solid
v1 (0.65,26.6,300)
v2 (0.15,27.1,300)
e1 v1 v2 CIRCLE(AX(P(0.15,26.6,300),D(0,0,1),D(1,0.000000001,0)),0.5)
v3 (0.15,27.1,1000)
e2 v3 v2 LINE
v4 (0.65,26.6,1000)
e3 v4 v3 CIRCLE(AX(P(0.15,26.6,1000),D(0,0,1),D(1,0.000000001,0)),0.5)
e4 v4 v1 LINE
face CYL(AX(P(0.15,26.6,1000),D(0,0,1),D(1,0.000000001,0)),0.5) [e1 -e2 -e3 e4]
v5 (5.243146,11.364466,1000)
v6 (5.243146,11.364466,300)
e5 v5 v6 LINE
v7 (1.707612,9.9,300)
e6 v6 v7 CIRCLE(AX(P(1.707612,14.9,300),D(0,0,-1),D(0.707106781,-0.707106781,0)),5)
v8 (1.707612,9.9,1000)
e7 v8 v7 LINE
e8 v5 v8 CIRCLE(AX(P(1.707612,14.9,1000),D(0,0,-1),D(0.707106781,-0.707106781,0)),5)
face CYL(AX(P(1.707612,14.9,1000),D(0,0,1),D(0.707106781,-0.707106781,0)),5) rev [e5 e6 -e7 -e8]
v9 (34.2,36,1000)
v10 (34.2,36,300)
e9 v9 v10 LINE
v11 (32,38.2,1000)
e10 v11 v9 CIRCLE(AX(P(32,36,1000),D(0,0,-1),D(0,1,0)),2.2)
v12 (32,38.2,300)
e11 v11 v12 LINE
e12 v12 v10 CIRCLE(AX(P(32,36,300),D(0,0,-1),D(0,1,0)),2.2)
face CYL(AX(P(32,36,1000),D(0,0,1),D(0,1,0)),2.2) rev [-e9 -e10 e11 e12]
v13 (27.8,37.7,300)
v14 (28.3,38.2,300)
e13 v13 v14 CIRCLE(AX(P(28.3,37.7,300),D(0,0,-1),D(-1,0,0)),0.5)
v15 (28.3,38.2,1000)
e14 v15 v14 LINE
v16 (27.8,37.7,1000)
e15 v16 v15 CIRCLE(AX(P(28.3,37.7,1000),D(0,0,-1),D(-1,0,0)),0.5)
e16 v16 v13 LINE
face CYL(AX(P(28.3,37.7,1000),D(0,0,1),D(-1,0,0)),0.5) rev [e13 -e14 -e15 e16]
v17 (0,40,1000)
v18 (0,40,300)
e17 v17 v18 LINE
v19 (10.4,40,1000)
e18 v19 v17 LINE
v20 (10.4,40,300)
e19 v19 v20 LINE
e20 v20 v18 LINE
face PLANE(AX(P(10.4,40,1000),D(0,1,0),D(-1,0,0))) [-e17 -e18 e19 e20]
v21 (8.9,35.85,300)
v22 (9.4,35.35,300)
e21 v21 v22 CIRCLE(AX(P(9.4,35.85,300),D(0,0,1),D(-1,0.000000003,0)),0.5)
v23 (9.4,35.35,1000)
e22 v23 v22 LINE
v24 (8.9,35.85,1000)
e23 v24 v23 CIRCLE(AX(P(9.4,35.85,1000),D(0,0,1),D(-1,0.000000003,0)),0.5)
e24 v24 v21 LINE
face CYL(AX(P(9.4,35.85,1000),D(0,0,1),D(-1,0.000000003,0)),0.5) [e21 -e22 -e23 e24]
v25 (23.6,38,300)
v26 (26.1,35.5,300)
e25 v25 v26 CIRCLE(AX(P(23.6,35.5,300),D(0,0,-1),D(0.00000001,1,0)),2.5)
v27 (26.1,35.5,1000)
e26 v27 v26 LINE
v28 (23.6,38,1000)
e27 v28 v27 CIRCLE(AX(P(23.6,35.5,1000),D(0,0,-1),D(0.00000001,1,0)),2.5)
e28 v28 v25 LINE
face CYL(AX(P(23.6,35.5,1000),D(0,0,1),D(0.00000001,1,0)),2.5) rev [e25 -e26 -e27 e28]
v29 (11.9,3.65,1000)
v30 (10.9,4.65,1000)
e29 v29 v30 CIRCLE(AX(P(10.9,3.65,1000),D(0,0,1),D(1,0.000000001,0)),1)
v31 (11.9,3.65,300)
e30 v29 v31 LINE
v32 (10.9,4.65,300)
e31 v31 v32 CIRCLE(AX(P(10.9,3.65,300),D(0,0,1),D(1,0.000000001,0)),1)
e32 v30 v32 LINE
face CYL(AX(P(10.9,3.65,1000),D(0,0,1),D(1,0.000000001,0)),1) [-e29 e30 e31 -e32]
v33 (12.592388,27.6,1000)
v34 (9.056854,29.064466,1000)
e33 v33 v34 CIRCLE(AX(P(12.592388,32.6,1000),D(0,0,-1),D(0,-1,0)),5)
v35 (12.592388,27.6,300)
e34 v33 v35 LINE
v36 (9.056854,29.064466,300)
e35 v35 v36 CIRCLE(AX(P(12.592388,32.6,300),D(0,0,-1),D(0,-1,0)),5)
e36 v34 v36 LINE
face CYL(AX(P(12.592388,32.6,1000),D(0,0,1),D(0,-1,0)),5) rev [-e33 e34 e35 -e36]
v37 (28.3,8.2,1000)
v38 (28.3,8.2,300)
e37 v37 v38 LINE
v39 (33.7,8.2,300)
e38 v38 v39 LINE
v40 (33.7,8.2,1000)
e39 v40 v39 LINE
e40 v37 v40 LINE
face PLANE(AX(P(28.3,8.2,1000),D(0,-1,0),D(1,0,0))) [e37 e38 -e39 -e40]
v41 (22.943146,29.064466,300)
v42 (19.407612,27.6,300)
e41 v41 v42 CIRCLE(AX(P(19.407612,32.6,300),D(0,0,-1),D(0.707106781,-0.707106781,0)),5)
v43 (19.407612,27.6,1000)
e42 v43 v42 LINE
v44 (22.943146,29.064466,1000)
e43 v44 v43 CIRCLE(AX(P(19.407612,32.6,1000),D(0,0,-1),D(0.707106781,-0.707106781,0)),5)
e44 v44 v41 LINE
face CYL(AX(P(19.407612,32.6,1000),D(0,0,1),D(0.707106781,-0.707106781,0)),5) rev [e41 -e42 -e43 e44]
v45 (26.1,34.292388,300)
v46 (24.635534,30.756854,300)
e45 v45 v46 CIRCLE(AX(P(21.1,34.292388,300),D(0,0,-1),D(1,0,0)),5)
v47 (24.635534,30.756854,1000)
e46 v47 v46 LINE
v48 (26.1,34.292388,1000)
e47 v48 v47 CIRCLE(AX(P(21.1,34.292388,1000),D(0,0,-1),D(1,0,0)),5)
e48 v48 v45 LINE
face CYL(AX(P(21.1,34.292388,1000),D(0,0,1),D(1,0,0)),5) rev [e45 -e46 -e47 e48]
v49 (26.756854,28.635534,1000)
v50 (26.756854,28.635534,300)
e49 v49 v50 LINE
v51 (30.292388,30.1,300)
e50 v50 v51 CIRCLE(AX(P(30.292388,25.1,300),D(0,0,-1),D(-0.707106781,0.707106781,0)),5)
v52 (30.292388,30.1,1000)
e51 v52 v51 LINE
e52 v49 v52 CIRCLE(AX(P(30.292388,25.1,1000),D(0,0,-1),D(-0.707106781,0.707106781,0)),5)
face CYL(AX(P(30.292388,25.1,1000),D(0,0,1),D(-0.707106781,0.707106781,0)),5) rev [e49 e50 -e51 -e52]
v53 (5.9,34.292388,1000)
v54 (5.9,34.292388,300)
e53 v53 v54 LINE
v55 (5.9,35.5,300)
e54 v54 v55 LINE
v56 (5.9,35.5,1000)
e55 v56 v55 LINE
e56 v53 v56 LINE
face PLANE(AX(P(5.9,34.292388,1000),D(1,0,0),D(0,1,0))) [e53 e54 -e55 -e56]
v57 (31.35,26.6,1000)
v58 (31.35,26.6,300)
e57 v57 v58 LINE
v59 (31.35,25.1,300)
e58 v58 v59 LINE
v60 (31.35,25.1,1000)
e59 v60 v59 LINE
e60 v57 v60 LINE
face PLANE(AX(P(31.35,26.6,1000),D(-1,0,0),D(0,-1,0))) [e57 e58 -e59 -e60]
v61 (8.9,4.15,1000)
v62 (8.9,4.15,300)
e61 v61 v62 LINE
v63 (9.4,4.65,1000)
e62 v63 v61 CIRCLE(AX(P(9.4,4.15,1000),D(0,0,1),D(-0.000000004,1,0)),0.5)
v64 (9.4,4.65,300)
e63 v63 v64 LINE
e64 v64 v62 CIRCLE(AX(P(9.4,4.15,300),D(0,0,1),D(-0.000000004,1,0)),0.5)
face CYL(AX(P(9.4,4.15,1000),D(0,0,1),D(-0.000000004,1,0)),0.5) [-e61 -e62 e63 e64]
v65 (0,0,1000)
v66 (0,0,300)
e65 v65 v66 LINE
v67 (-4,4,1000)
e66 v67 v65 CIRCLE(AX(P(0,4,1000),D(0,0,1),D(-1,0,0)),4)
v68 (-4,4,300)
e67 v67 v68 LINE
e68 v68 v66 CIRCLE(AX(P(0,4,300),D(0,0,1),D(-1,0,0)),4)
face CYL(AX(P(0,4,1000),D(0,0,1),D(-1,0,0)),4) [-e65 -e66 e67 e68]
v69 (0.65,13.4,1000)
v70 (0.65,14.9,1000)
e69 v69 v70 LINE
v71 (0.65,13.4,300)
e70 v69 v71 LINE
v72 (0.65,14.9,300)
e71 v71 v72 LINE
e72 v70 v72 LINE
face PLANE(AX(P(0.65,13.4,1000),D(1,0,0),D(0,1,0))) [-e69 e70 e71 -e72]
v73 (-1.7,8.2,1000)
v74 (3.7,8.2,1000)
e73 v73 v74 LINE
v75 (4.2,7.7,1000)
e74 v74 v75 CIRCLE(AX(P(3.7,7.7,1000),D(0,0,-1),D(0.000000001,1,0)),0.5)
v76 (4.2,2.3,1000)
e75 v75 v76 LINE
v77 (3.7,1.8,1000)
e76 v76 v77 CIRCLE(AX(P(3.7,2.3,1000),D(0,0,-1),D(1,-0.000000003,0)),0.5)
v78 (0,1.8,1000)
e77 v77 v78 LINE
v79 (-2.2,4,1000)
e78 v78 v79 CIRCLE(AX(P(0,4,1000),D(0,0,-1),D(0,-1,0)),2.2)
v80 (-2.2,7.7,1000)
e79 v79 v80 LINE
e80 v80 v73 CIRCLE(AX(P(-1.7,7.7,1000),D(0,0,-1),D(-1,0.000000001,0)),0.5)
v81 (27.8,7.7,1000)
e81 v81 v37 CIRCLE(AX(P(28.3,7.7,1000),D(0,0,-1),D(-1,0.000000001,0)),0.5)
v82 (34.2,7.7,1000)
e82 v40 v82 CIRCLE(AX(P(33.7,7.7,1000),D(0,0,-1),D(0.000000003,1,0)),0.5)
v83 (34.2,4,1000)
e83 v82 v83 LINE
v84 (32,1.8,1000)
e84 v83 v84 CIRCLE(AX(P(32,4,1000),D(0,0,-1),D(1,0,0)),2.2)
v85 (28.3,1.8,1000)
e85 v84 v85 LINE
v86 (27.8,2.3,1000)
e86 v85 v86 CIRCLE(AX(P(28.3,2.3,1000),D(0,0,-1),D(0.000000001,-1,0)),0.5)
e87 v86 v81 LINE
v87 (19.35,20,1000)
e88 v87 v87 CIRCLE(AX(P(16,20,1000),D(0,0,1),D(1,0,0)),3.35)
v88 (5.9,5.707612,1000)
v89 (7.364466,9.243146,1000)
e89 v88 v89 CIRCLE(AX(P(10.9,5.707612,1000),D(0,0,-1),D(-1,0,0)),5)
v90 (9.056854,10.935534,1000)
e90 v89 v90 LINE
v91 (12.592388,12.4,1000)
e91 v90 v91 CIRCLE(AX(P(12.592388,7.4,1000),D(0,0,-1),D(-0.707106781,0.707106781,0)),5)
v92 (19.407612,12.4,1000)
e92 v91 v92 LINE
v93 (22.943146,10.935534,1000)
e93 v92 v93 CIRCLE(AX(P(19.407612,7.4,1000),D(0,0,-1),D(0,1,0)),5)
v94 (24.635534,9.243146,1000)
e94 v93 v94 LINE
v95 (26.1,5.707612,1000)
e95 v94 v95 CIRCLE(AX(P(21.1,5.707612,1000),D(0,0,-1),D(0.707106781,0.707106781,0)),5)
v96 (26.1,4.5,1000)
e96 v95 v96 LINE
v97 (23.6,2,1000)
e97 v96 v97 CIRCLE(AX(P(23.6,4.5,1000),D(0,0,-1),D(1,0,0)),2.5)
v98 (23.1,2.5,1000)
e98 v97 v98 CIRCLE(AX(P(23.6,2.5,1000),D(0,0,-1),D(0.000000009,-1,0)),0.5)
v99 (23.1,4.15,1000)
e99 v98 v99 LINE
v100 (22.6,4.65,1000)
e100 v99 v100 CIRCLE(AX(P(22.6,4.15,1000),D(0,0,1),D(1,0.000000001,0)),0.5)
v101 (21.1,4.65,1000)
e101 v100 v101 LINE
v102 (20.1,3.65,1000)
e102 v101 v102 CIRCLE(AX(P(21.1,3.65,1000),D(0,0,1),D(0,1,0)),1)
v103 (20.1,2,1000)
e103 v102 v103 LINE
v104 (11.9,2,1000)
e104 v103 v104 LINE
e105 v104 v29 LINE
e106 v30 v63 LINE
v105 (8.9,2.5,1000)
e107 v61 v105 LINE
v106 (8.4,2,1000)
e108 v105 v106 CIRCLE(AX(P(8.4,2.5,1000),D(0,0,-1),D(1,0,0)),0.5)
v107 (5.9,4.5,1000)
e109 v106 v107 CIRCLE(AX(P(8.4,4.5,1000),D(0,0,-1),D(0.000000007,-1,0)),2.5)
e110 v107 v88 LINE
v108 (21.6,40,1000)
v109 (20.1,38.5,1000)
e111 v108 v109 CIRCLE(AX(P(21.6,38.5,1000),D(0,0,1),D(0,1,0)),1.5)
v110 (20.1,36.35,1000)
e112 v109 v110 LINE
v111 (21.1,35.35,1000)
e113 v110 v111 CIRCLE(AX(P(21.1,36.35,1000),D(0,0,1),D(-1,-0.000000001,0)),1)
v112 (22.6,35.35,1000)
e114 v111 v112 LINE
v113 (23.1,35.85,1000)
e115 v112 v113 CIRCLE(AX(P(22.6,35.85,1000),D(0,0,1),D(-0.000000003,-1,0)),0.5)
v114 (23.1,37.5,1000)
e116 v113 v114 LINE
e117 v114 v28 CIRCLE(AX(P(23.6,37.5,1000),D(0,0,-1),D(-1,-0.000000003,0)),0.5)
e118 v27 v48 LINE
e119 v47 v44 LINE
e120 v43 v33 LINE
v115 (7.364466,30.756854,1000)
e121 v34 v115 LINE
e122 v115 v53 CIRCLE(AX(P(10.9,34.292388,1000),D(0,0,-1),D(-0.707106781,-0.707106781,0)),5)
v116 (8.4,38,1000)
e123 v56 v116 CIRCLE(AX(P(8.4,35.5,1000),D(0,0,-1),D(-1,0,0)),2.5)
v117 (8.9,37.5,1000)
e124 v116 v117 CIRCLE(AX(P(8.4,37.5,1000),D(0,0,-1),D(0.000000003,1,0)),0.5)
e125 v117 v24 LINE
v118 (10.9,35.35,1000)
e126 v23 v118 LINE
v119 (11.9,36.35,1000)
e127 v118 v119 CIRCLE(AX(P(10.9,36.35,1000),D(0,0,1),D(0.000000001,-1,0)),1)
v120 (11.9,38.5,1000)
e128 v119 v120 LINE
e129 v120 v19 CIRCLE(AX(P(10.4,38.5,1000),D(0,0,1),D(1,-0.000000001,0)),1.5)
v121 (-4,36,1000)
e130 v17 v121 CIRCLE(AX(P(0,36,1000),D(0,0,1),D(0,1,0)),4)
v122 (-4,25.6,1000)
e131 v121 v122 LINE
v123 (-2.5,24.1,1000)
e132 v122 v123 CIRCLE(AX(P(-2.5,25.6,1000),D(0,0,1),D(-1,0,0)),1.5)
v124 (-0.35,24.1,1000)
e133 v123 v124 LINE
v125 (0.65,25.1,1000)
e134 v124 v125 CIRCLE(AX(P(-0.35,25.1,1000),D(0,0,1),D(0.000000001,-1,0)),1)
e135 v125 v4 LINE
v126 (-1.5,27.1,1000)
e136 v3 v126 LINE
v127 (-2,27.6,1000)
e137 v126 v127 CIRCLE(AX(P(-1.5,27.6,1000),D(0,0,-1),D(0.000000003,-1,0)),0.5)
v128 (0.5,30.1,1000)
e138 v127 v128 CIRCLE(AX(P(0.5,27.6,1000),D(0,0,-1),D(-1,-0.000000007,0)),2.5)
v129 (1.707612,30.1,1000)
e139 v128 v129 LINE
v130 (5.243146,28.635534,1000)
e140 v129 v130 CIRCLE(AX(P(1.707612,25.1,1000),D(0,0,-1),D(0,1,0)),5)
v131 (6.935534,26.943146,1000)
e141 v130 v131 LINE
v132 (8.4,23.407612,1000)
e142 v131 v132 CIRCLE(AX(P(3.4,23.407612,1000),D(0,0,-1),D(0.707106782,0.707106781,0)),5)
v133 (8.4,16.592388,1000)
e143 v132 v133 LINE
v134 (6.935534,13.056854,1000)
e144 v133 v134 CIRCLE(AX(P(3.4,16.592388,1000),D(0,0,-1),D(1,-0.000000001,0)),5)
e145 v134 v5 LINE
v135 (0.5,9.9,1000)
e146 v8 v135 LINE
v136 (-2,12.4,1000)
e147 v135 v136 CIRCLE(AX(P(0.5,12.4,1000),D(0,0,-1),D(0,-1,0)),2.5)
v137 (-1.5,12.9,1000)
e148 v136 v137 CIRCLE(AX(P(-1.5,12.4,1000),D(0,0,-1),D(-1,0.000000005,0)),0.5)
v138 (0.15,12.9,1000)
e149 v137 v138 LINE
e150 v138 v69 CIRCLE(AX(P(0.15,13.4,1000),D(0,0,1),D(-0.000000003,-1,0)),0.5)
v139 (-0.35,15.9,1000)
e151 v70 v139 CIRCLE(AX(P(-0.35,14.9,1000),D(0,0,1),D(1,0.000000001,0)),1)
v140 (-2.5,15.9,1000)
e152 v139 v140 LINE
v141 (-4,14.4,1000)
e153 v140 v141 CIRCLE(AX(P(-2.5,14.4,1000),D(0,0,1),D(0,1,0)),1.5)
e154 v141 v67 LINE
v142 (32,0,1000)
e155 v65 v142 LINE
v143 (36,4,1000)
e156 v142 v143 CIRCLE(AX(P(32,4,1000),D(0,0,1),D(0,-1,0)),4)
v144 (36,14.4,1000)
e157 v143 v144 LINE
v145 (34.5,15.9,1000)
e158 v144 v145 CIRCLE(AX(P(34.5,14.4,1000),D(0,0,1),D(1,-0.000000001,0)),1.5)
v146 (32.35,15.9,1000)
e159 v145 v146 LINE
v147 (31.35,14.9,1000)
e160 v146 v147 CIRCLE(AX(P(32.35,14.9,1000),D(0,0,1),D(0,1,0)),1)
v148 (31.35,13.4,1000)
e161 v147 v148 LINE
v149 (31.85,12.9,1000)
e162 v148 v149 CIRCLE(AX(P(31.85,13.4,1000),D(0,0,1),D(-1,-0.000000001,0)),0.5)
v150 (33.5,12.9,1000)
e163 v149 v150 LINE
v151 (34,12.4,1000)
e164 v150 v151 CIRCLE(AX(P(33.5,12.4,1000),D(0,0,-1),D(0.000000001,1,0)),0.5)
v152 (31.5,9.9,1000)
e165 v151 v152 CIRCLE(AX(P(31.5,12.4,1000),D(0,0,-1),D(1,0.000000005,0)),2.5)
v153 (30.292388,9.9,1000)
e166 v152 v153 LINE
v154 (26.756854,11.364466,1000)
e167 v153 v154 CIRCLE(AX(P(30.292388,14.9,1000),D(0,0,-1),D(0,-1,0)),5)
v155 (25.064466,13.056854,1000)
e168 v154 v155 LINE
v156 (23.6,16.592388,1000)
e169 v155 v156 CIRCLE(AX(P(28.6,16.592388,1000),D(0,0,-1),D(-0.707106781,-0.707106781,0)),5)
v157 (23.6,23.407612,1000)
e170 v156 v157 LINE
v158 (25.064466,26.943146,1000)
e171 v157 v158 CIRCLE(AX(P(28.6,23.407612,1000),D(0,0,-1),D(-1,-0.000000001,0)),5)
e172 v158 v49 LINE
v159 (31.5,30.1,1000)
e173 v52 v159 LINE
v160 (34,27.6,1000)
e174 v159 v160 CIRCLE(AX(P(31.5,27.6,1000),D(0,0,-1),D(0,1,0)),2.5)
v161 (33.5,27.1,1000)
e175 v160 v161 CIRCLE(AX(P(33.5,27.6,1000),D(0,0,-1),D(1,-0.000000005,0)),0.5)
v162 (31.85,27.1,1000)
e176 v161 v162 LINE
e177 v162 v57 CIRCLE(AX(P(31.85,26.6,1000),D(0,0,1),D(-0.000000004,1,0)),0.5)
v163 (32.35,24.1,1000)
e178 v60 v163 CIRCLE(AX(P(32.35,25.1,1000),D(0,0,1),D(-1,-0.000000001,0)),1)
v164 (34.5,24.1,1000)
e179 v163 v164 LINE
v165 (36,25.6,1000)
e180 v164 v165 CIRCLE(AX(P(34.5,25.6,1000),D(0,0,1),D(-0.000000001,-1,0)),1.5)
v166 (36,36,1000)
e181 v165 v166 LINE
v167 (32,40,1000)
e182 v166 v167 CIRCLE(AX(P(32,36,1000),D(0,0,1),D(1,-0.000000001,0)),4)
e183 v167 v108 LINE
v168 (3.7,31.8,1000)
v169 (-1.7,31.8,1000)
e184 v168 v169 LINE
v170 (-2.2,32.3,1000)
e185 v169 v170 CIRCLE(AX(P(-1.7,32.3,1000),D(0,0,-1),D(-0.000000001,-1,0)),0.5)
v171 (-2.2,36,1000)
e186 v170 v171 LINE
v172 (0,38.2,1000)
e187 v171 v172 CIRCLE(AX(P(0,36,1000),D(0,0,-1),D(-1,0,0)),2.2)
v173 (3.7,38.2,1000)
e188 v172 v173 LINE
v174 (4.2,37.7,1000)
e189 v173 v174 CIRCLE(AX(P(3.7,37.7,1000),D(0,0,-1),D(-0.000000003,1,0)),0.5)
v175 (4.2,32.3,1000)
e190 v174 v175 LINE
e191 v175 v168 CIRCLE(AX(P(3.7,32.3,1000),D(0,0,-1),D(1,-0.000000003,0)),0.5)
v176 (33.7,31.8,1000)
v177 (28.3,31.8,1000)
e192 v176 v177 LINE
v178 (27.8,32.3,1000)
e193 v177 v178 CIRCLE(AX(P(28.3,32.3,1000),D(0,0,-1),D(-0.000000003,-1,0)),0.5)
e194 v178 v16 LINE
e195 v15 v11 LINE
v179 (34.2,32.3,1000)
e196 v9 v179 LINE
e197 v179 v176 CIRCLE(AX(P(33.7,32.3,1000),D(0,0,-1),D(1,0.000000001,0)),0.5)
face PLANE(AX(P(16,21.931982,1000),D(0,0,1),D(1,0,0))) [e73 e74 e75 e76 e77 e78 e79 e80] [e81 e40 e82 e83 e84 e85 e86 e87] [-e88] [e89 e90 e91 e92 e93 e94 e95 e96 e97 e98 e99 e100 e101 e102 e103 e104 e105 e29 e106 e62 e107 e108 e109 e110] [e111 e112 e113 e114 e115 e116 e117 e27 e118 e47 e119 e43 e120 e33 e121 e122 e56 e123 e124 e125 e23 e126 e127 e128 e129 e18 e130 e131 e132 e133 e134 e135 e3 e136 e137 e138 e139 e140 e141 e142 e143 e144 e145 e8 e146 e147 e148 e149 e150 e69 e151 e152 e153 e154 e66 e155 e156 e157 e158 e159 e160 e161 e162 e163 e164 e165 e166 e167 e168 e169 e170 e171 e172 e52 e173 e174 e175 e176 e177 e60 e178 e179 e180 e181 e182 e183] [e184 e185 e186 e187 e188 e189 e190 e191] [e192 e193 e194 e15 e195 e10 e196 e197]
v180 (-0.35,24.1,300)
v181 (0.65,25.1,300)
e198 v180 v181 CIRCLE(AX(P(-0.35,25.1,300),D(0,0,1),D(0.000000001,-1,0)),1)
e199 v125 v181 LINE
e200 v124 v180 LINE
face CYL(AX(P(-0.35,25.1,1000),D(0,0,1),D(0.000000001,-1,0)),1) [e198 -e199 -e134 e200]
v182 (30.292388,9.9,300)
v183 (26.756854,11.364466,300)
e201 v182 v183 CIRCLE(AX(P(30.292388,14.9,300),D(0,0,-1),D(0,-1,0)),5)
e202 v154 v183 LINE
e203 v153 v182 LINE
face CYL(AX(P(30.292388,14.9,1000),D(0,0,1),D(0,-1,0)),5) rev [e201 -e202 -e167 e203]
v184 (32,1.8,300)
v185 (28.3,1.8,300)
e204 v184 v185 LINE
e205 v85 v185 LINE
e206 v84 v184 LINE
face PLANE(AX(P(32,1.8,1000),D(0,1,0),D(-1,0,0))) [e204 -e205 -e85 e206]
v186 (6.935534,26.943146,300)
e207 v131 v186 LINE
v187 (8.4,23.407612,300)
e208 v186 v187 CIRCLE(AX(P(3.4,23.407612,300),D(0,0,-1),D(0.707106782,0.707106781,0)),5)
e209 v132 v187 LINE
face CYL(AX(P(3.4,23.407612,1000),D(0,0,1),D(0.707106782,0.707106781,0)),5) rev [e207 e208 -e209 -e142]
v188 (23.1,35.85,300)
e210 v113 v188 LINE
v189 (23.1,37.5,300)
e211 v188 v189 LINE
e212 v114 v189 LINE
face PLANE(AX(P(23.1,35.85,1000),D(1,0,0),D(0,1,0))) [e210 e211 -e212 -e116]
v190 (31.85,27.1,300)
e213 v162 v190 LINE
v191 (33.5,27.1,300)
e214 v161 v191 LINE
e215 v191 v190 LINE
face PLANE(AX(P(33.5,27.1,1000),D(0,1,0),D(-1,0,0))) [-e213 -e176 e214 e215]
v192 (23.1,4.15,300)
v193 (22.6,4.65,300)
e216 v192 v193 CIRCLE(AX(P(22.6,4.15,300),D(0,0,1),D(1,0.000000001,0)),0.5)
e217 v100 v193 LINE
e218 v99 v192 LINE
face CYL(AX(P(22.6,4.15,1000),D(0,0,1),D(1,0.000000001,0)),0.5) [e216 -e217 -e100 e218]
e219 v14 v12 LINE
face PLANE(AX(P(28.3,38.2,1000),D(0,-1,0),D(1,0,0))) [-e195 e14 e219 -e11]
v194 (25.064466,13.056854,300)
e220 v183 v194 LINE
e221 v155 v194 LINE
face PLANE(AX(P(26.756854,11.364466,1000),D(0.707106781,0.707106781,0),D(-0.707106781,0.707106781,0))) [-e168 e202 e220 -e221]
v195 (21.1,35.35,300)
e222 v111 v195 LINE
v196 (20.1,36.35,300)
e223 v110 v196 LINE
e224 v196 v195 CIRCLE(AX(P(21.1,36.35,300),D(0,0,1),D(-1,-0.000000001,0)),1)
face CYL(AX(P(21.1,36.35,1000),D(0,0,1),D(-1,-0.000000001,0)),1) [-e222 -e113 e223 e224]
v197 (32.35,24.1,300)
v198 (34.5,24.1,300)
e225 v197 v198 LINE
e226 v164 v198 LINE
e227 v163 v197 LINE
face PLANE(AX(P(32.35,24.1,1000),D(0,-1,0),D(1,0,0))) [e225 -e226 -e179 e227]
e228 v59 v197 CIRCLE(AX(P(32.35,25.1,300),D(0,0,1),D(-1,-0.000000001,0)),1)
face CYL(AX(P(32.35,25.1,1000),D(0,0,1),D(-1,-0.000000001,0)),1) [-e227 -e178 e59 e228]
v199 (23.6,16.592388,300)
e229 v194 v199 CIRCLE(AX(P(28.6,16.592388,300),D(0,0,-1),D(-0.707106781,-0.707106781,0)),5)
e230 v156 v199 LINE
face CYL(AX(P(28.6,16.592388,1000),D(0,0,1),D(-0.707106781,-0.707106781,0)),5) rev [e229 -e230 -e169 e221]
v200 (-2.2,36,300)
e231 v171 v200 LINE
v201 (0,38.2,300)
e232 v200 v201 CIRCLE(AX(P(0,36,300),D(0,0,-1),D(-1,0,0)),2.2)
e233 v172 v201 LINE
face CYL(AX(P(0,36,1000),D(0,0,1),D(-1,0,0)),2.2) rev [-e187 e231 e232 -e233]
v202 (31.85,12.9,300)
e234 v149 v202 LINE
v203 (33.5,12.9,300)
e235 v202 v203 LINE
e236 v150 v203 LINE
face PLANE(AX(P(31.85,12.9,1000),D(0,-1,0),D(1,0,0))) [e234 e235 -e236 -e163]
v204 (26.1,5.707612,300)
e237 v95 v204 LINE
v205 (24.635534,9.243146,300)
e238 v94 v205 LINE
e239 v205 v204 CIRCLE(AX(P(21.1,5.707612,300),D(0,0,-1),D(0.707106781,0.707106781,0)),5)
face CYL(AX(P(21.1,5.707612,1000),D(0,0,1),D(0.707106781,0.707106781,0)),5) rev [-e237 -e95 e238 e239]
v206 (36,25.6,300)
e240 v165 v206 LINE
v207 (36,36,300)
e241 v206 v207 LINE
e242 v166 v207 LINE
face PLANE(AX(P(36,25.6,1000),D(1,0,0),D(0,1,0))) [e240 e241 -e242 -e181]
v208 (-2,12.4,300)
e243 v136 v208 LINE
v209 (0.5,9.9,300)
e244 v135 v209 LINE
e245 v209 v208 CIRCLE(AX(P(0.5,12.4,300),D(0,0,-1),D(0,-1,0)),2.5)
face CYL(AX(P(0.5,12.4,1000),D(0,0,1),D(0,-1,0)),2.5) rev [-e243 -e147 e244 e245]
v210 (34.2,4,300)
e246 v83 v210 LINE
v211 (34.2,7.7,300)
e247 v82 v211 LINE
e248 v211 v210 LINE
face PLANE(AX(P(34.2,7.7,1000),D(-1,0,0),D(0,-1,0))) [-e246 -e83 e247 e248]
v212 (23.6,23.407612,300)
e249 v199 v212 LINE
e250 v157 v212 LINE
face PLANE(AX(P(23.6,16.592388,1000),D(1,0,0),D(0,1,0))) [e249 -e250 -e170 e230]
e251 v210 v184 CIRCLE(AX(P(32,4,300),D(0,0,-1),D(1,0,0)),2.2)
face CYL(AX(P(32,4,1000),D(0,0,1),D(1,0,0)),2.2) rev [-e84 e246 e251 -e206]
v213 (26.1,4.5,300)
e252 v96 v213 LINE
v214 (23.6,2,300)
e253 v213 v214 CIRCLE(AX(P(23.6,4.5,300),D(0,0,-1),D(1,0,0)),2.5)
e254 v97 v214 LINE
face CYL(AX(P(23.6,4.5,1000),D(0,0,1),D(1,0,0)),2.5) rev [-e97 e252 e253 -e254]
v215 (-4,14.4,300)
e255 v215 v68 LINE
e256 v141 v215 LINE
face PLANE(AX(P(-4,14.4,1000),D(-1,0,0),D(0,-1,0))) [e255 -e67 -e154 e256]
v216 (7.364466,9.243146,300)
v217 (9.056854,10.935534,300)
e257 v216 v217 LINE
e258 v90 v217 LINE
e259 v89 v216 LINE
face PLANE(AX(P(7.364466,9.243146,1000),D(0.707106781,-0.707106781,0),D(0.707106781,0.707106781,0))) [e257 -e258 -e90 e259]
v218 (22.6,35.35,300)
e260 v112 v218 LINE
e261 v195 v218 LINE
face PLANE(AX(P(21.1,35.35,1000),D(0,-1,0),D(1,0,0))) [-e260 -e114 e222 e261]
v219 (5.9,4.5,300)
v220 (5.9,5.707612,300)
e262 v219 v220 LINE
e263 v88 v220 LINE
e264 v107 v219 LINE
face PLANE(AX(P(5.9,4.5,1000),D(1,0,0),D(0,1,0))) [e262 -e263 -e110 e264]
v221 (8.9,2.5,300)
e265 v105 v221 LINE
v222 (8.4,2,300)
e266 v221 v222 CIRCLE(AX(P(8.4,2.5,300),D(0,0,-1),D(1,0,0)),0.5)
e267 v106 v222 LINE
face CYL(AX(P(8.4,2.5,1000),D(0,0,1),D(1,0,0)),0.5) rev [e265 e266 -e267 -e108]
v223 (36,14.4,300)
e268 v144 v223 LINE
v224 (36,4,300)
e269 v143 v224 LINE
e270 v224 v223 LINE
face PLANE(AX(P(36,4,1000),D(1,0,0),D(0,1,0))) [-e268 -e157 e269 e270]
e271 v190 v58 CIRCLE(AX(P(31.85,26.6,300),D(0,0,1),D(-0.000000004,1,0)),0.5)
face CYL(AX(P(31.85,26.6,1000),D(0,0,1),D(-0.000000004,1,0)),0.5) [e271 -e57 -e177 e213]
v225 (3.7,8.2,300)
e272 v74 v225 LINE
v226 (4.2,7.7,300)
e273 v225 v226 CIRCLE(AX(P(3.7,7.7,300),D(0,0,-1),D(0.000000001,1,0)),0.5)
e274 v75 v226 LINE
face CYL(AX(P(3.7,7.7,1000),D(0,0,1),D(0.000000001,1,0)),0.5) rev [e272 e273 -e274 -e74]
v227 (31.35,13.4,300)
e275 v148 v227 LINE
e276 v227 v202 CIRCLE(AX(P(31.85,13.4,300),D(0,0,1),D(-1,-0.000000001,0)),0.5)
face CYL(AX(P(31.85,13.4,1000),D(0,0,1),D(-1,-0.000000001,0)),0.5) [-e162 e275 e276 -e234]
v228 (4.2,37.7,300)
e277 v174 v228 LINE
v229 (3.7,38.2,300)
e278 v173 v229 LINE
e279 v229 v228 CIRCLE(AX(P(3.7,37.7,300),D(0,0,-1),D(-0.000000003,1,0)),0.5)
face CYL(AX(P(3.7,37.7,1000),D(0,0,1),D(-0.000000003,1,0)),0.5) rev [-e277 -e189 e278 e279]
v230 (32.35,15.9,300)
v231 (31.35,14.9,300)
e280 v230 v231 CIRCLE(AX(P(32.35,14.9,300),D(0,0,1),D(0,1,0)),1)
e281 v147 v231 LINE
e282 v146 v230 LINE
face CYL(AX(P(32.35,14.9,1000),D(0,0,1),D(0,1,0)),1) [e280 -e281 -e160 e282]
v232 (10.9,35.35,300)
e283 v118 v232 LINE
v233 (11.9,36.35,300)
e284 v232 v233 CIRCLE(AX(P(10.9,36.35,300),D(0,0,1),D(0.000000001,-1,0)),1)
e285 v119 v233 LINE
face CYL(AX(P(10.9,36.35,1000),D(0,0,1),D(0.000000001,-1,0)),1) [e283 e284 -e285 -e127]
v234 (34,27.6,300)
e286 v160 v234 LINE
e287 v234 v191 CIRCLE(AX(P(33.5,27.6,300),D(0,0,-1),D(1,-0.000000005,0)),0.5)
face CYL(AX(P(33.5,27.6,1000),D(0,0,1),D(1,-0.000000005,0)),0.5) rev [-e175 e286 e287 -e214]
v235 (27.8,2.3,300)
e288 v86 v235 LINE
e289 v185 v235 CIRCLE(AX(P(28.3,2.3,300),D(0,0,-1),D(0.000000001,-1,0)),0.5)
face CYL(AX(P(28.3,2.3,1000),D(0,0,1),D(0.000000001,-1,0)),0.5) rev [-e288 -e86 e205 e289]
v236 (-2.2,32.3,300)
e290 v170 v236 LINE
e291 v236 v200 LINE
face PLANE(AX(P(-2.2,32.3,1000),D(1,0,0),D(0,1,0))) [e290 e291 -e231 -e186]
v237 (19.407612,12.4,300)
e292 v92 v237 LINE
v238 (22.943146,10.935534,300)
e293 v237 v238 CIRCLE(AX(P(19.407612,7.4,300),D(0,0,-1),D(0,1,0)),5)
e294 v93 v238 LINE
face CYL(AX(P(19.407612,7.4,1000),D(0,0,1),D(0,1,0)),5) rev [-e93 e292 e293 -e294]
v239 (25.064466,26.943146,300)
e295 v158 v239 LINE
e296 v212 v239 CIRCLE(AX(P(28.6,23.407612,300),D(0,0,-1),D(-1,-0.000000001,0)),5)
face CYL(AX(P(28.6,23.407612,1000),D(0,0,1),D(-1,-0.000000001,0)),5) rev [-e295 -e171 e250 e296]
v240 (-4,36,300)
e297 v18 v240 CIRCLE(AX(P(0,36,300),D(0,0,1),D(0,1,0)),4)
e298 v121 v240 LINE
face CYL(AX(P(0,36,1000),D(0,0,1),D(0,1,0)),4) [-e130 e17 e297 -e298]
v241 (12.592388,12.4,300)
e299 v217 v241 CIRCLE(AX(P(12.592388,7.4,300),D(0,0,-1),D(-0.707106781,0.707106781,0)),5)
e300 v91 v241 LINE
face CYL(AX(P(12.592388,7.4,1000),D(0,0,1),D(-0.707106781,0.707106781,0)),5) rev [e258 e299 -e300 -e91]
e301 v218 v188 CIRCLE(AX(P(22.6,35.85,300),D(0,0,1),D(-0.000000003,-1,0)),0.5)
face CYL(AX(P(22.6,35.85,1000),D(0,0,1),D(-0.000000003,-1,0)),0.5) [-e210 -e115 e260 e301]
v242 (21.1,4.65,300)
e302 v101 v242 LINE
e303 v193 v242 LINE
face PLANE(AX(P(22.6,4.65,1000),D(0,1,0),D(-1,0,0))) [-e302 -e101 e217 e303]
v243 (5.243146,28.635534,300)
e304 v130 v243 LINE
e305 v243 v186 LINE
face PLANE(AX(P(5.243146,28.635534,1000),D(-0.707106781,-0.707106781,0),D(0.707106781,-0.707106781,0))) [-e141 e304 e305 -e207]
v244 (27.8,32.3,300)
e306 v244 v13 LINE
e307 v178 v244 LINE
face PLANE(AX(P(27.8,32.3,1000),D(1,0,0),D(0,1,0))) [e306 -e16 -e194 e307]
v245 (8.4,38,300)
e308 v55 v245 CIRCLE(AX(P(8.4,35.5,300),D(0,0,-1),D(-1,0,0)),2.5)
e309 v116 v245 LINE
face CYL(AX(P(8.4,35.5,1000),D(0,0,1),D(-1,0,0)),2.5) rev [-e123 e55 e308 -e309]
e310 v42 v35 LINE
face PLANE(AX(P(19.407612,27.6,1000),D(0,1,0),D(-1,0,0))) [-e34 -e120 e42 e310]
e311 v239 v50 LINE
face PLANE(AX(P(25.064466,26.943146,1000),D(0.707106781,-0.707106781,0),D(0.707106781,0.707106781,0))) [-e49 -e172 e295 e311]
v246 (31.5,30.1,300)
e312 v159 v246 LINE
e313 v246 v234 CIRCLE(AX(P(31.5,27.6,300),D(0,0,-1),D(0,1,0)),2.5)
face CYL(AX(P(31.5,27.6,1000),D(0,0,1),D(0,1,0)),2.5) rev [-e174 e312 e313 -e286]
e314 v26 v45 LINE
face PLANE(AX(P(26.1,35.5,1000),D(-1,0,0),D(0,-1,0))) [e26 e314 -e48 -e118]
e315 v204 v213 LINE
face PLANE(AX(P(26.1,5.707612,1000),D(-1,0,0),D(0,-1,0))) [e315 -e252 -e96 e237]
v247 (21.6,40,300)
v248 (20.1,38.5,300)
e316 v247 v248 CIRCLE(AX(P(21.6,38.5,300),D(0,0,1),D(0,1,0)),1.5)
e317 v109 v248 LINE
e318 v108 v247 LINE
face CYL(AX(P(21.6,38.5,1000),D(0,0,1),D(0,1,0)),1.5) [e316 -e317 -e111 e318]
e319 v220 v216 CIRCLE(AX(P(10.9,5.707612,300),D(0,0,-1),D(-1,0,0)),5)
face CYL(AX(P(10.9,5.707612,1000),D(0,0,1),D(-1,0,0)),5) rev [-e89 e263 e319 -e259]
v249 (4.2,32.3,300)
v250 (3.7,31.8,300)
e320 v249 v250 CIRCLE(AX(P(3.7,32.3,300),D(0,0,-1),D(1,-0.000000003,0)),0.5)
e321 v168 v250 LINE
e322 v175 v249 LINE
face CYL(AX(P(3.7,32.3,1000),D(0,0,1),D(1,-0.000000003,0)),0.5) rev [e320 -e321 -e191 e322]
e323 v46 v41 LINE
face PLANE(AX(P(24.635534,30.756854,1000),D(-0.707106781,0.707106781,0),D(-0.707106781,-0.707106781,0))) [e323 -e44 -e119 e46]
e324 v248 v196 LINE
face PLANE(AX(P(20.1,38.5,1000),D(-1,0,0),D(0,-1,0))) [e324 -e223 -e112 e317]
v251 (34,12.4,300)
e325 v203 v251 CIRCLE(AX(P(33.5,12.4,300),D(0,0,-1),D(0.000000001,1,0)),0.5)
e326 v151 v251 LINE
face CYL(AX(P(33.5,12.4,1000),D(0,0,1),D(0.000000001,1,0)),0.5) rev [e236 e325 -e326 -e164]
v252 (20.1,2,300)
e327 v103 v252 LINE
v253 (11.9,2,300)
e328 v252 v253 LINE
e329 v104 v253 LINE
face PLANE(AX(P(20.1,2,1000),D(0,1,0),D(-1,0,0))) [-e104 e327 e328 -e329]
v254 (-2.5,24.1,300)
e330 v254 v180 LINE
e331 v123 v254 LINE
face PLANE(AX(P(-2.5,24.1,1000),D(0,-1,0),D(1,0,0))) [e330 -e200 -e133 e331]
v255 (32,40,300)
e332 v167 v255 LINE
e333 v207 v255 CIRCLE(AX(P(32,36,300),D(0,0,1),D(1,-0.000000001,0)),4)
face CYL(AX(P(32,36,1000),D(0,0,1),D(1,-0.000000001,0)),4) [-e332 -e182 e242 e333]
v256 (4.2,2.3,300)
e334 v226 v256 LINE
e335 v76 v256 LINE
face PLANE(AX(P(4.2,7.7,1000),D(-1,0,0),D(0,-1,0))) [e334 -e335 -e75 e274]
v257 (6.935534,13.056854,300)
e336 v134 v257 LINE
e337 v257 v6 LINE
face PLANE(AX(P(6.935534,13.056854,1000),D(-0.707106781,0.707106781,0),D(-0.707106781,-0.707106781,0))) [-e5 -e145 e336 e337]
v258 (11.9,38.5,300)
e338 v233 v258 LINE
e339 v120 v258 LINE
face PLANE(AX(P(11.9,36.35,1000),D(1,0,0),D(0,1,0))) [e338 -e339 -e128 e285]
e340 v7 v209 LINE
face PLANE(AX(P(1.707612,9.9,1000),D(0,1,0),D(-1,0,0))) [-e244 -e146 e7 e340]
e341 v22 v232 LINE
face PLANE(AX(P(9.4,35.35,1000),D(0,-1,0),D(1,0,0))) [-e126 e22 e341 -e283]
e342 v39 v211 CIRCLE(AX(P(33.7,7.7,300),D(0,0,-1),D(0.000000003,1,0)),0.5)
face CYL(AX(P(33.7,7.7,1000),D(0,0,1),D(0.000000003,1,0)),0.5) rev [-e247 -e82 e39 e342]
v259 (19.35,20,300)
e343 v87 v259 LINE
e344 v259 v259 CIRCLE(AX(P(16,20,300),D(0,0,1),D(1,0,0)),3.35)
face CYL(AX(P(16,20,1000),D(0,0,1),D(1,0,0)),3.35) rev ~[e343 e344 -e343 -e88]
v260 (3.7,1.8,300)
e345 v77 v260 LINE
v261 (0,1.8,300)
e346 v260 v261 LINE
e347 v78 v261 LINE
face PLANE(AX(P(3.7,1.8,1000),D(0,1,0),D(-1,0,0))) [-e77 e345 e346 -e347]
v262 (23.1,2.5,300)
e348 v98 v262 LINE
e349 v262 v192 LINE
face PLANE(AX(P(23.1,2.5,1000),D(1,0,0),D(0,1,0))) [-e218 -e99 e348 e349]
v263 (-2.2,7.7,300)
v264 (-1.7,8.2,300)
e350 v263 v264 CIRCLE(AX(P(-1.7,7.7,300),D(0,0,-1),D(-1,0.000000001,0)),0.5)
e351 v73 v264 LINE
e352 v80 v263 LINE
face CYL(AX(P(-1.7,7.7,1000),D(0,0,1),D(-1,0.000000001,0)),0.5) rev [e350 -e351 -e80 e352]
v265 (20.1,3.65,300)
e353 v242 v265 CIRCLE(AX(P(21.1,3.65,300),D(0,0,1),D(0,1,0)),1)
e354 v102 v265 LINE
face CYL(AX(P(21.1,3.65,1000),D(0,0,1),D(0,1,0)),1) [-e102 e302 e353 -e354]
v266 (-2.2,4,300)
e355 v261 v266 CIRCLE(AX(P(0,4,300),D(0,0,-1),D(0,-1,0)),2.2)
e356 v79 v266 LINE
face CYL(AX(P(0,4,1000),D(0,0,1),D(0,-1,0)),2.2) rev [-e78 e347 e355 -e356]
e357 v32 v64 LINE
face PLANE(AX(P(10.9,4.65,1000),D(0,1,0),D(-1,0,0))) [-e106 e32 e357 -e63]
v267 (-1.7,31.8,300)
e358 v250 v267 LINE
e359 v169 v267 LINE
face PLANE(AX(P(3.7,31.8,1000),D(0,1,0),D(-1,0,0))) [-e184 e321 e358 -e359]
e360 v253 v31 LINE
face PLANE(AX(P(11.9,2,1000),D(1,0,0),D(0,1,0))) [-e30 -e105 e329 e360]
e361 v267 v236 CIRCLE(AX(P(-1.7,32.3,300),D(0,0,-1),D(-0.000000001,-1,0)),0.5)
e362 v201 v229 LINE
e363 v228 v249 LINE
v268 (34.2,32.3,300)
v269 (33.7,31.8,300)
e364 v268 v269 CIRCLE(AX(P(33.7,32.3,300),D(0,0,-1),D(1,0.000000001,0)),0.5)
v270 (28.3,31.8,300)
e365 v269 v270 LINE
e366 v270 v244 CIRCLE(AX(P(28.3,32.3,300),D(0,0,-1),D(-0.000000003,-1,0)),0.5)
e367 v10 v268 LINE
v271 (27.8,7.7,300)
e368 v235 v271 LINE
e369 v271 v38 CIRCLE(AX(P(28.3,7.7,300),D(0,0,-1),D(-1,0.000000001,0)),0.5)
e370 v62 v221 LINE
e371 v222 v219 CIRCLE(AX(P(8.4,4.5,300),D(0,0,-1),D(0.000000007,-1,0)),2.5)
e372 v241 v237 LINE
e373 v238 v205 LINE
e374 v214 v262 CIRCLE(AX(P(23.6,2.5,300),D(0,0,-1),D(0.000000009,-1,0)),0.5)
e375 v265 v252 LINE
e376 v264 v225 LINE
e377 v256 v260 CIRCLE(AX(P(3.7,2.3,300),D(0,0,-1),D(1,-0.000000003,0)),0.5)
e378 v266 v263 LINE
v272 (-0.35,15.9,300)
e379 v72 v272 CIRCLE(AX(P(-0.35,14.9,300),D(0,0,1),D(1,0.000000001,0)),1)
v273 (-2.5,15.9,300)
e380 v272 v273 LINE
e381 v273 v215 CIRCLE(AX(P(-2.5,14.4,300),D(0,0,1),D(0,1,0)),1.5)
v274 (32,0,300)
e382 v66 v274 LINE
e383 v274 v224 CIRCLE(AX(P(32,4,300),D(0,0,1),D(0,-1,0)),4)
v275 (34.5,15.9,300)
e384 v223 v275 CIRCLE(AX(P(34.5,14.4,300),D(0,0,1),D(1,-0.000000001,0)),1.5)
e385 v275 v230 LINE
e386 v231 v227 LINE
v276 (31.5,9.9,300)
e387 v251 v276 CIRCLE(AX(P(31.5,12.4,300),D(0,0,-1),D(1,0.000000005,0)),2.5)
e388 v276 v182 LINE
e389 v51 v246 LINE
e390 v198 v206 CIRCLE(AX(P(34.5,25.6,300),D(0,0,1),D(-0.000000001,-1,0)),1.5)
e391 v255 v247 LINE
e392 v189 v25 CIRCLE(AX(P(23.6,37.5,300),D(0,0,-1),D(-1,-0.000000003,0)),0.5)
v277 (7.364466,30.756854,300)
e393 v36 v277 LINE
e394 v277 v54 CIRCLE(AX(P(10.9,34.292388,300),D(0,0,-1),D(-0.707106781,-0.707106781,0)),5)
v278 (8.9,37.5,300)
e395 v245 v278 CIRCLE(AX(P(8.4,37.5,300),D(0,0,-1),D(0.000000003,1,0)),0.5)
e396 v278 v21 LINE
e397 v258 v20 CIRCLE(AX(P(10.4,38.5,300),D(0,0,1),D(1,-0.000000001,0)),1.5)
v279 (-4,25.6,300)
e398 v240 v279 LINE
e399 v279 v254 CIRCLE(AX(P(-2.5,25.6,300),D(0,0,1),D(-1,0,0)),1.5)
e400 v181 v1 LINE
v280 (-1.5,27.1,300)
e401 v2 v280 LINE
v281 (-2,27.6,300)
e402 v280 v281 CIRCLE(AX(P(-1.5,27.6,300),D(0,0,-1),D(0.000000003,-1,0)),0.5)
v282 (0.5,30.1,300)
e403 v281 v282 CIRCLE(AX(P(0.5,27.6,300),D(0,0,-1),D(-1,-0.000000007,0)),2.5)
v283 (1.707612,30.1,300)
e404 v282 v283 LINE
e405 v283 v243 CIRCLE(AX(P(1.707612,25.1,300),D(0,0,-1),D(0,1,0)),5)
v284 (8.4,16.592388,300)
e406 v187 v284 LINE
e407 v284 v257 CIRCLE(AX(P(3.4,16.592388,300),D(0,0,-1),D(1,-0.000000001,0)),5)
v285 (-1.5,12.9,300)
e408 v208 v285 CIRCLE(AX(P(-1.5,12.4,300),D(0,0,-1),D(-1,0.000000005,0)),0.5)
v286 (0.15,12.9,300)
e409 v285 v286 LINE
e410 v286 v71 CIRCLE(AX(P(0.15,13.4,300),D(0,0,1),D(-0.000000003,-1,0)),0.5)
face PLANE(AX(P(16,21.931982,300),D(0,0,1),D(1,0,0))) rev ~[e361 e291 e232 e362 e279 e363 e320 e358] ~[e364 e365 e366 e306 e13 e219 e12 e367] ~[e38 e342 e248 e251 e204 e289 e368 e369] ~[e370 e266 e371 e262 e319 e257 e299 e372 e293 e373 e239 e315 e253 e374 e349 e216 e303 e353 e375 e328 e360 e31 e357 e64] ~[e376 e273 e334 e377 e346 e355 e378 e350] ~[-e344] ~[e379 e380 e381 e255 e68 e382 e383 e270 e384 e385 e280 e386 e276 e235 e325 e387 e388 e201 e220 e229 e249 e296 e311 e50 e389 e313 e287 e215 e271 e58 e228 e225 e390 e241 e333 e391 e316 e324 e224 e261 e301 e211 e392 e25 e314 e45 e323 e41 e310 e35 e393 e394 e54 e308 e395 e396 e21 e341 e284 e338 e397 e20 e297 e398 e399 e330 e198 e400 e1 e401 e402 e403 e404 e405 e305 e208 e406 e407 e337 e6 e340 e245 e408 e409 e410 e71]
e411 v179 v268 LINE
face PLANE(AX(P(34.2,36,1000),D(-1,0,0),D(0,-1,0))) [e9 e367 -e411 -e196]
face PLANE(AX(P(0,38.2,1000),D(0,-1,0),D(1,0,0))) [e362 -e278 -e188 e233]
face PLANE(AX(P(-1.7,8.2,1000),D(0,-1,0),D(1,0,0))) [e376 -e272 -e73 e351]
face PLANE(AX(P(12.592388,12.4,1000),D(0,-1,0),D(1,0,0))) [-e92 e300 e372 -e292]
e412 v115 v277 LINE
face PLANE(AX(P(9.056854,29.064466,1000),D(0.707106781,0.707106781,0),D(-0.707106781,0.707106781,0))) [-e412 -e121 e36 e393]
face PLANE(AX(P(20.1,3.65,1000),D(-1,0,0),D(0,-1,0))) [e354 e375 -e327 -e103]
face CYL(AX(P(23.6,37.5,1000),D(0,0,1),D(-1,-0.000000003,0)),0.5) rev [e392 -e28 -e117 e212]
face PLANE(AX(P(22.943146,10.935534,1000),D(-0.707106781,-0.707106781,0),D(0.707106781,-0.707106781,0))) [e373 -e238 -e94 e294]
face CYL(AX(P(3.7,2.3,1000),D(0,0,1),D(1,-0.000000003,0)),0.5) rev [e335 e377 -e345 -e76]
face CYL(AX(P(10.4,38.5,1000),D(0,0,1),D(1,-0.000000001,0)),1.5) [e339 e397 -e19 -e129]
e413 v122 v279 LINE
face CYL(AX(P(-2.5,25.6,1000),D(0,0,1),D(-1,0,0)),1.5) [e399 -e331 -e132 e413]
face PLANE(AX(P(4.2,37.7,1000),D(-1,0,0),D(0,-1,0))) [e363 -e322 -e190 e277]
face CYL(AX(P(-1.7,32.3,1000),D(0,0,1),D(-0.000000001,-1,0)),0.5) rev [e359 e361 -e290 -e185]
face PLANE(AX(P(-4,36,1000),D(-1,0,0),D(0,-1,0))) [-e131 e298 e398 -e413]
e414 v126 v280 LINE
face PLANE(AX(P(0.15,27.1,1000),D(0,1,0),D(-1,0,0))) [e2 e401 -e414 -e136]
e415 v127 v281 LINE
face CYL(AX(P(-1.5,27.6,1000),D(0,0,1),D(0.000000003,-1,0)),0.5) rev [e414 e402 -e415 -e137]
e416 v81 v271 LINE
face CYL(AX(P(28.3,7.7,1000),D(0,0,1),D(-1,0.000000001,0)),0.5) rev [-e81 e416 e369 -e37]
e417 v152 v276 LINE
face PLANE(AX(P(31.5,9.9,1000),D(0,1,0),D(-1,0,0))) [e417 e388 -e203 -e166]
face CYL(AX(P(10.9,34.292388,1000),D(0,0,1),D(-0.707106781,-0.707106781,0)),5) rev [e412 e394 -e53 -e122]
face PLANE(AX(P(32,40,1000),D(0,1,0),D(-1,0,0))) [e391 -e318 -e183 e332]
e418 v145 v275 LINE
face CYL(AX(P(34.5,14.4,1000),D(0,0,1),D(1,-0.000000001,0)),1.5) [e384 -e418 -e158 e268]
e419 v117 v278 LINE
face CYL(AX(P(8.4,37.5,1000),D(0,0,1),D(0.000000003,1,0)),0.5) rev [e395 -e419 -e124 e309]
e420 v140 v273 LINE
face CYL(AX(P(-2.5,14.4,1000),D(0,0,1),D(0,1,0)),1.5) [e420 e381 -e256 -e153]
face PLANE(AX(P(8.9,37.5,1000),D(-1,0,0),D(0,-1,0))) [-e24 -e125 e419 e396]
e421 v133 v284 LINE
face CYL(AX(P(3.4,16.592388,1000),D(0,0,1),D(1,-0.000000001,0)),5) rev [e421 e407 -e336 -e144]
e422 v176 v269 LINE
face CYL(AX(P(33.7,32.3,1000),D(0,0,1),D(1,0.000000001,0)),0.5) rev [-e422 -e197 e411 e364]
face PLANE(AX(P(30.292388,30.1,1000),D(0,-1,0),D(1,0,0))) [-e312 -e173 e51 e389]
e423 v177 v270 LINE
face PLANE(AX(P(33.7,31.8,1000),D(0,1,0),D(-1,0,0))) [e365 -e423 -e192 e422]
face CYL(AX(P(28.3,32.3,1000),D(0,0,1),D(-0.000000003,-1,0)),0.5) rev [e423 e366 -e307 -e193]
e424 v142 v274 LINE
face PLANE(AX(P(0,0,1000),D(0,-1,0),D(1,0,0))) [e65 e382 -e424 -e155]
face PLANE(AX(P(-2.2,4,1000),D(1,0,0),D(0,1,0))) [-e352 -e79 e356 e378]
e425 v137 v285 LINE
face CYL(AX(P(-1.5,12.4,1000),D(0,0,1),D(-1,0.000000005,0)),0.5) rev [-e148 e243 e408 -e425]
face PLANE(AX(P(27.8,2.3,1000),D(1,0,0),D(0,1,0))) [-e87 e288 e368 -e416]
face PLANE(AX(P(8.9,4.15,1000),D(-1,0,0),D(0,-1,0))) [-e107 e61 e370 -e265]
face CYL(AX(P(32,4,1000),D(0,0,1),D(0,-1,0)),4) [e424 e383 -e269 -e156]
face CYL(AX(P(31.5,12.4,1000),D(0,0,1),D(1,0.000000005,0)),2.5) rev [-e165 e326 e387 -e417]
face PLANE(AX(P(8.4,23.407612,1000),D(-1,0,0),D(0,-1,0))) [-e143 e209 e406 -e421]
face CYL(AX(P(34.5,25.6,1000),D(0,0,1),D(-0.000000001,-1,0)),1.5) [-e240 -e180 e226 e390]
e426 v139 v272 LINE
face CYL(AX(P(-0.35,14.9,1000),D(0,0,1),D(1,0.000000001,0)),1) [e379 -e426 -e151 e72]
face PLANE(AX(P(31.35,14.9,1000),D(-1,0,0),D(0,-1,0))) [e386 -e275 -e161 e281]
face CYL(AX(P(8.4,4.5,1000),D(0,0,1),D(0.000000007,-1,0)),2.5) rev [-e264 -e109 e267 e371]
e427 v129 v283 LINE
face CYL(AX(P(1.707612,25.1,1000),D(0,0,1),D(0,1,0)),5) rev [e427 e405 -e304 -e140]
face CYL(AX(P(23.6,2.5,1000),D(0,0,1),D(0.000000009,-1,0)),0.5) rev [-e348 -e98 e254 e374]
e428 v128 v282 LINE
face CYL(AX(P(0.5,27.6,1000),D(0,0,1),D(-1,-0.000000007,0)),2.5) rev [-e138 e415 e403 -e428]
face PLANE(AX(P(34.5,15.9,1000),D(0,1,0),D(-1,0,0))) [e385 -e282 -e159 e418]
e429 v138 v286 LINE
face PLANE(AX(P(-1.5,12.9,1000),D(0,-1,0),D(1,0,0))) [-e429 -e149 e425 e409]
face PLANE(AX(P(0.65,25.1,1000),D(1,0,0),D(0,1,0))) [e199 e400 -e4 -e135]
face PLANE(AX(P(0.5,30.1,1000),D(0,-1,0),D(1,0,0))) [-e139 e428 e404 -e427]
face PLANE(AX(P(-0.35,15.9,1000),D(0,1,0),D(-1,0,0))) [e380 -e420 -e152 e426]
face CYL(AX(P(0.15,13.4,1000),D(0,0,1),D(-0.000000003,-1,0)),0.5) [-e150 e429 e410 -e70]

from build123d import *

# Parameters (mm, degrees)
SKIZZE1_R                       = 3.35
AUFSATZ_LINEAR_AUSTRAGEN1_DEPTH = 700


with BuildPart() as part:
    # Skizze1 → Aufsatz-Linear austragen1 (new body)
    with BuildSketch(Plane.XY.offset(1000)):
        with BuildLine():
            Line((5.899999985, 34.292388165), (5.899999985, 35.500000003))
            ThreePointArc((5.899999985, 35.500000003), (6.632233037, 37.267766961), (8.399999999, 38.000000003))
            ThreePointArc((8.399999999, 38.000000003), (8.753553388, 37.853553393), (8.899999996, 37.500000003))
            Line((8.899999996, 37.500000003), (8.899999996, 35.850000004))
            ThreePointArc((8.899999996, 35.850000004), (9.046446605, 35.496446613), (9.399999996, 35.350000004))
            Line((9.399999996, 35.350000004), (10.899999947, 35.350000004))
            ThreePointArc((10.899999947, 35.350000004), (11.607106728, 35.642893223), (11.899999947, 36.350000004))
            Line((11.899999947, 36.350000004), (11.899999947, 38.500000016))
            ThreePointArc((11.899999947, 38.500000016), (11.460660119, 39.560660188), (10.399999947, 40.000000016))
            Line((10.399999947, 40.000000016), (5.2e-08, 40.000000016))
            ThreePointArc((5.2e-08, 40.000000016), (-2.828427117, 38.828427123), (-4.000000011, 35.999999954))
            Line((-4.000000011, 35.999999954), (-4.000000011, 25.599999996))
            ThreePointArc((-4.000000011, 25.599999996), (-3.560660183, 24.539339825), (-2.500000012, 24.099999997))
            Line((-2.500000012, 24.099999997), (-0.350000011, 24.099999997))
            ThreePointArc((-0.350000011, 24.099999997), (0.35710677, 24.392893216), (0.649999989, 25.099999997))
            Line((0.649999989, 25.099999997), (0.649999989, 26.599999997))
            ThreePointArc((0.649999989, 26.599999997), (0.50355338, 26.953553387), (0.149999989, 27.099999997))
            Line((0.149999989, 27.099999997), (-1.500000011, 27.099999997))
            ThreePointArc((-1.500000011, 27.099999997), (-1.853553401, 27.246446605), (-2.000000011, 27.599999993))
            ThreePointArc((-2.000000011, 27.599999993), (-1.26776697, 29.367766957), (0.499999989, 30.10000001))
            Line((0.499999989, 30.10000001), (1.707611833, 30.10000001))
            ThreePointArc((1.707611833, 30.10000001), (3.621028995, 29.719397673), (5.243145739, 28.635533916))
            Line((5.243145739, 28.635533916), (6.935533894, 26.943145761))
            ThreePointArc((6.935533894, 26.943145761), (8.01939765, 25.321029017), (8.399999988, 23.407611855))
            Line((8.399999988, 23.407611855), (8.399999988, 16.592388122))
            ThreePointArc((8.399999988, 16.592388122), (8.01939765, 14.678970961), (6.935533894, 13.056854217))
            Line((6.935533894, 13.056854217), (5.243145737, 11.36446606))
            ThreePointArc((5.243145737, 11.36446606), (3.621028993, 10.280602303), (1.707611831, 9.899999966))
            Line((1.707611831, 9.899999966), (0.49999999, 9.899999966))
            ThreePointArc((0.49999999, 9.899999966), (-1.267766968, 10.632233018), (-2.00000001, 12.399999979))
            ThreePointArc((-2.00000001, 12.399999979), (-1.8535534, 12.753553368), (-1.50000001, 12.899999977))
            Line((-1.50000001, 12.899999977), (0.149999989, 12.899999977))
            ThreePointArc((0.149999989, 12.899999977), (0.50355338, 13.046446586), (0.649999989, 13.399999977))
            Line((0.649999989, 13.399999977), (0.649999989, 14.899999976))
            ThreePointArc((0.649999989, 14.899999976), (0.35710677, 15.607106757), (-0.350000011, 15.899999976))
            Line((-0.350000011, 15.899999976), (-2.50000001, 15.899999976))
            ThreePointArc((-2.50000001, 15.899999976), (-3.560660182, 15.460660148), (-4.000000011, 14.399999976))
            Line((-4.000000011, 14.399999976), (-4.000000011, 4.000000069))
            ThreePointArc((-4.000000011, 4.000000069), (-2.828427121, 1.171572909), (4e-08, 1.9e-08))
            Line((4e-08, 1.9e-08), (31.999999925, 1.9e-08))
            ThreePointArc((31.999999925, 1.9e-08), (34.828427086, 1.171572909), (35.999999976, 4.00000007))
            Line((35.999999976, 4.00000007), (35.999999976, 14.399999977))
            ThreePointArc((35.999999976, 14.399999977), (35.560660149, 15.460660148), (34.499999978, 15.899999976))
            Line((34.499999978, 15.899999976), (32.349999991, 15.899999976))
            ThreePointArc((32.349999991, 15.899999976), (31.642893209, 15.607106757), (31.34999999, 14.899999976))
            Line((31.34999999, 14.899999976), (31.34999999, 13.399999977))
            ThreePointArc((31.34999999, 13.399999977), (31.4964466, 13.046446586), (31.84999999, 12.899999977))
            Line((31.84999999, 12.899999977), (33.499999991, 12.899999977))
            ThreePointArc((33.499999991, 12.899999977), (33.853553381, 12.753553368), (33.999999991, 12.399999979))
            ThreePointArc((33.999999991, 12.399999979), (33.267766949, 10.632233018), (31.499999991, 9.899999966))
            Line((31.499999991, 9.899999966), (30.292388185, 9.899999966))
            ThreePointArc((30.292388185, 9.899999966), (28.378971023, 10.280602303), (26.756854279, 11.36446606))
            Line((26.756854279, 11.36446606), (25.064466082, 13.056854257))
            ThreePointArc((25.064466082, 13.056854257), (23.980602325, 14.678971001), (23.599999988, 16.592388163))
            Line((23.599999988, 16.592388163), (23.599999988, 23.407611842))
            ThreePointArc((23.599999988, 23.407611842), (23.980602325, 25.321029004), (25.064466082, 26.943145747))
            Line((25.064466082, 26.943145747), (26.75685425, 28.635533916))
            ThreePointArc((26.75685425, 28.635533916), (28.378970995, 29.719397673), (30.292388156, 30.10000001))
            Line((30.292388156, 30.10000001), (31.499999989, 30.10000001))
            ThreePointArc((31.499999989, 30.10000001), (33.267766948, 29.367766957), (33.999999989, 27.599999993))
            ThreePointArc((33.999999989, 27.599999993), (33.853553379, 27.246446605), (33.499999989, 27.099999997))
            Line((33.499999989, 27.099999997), (31.84999999, 27.099999997))
            ThreePointArc((31.84999999, 27.099999997), (31.4964466, 26.953553387), (31.34999999, 26.599999997))
            Line((31.34999999, 26.599999997), (31.34999999, 25.099999997))
            ThreePointArc((31.34999999, 25.099999997), (31.642893209, 24.392893216), (32.34999999, 24.099999997))
            Line((32.34999999, 24.099999997), (34.499999976, 24.099999997))
            ThreePointArc((34.499999976, 24.099999997), (35.560660148, 24.539339825), (35.999999976, 25.599999997))
            Line((35.999999976, 25.599999997), (35.999999976, 35.999999953))
            ThreePointArc((35.999999976, 35.999999953), (34.828427083, 38.828427123), (31.999999914, 40.000000016))
            Line((31.999999914, 40.000000016), (21.600000015, 40.000000016))
            ThreePointArc((21.600000015, 40.000000016), (20.539339844, 39.560660188), (20.100000016, 38.500000017))
            Line((20.100000016, 38.500000017), (20.100000016, 36.350000004))
            ThreePointArc((20.100000016, 36.350000004), (20.392893235, 35.642893223), (21.100000017, 35.350000004))
            Line((21.100000017, 35.350000004), (22.600000014, 35.350000004))
            ThreePointArc((22.600000014, 35.350000004), (22.953553405, 35.496446613), (23.100000014, 35.850000004))
            Line((23.100000014, 35.850000004), (23.100000014, 37.500000007))
            ThreePointArc((23.100000014, 37.500000007), (23.246446625, 37.8535534), (23.600000019, 38.000000007))
            ThreePointArc((23.600000019, 38.000000007), (25.367766955, 37.267766951), (26.099999992, 35.500000007))
            Line((26.099999992, 35.500000007), (26.099999992, 34.292388127))
            ThreePointArc((26.099999992, 34.292388127), (25.719397655, 32.378970966), (24.635533898, 30.756854221))
            Line((24.635533898, 30.756854221), (22.943145779, 29.064466103))
            ThreePointArc((22.943145779, 29.064466103), (21.321029035, 27.980602346), (19.407611873, 27.600000009))
            Line((19.407611873, 27.600000009), (12.592388142, 27.600000009))
            ThreePointArc((12.592388142, 27.600000009), (10.678970981, 27.980602346), (9.056854237, 29.064466102))
            Line((9.056854237, 29.064466102), (7.36446608, 30.75685426))
            ThreePointArc((7.36446608, 30.75685426), (6.280602323, 32.378971004), (5.899999985, 34.292388165))
        make_face()
        with Locations((15.999999985, 20)):
            Circle(SKIZZE1_R, mode=Mode.SUBTRACT)
        with BuildLine():
            Line((27.799999996, 32.299999708), (27.799999996, 37.700000083))
            ThreePointArc((27.799999996, 37.700000083), (27.946446591, 38.053553439), (28.299999947, 38.200000034))
            Line((28.299999947, 38.200000034), (31.999999914, 38.200000034))
            ThreePointArc((31.999999914, 38.200000034), (33.555634889, 37.555634929), (34.199999994, 35.999999953))
            Line((34.199999994, 35.999999953), (34.199999994, 32.300000046))
            ThreePointArc((34.199999994, 32.300000046), (34.053553382, 31.946446648), (33.699999983, 31.800000035))
            Line((33.699999983, 31.800000035), (28.299999669, 31.800000035))
            ThreePointArc((28.299999669, 31.800000035), (27.94644651, 31.946446549), (27.799999996, 32.299999708))
        make_face(mode=Mode.SUBTRACT)
        with BuildLine():
            Line((28.299999669, 8.199999998), (33.700000043, 8.199999998))
            ThreePointArc((33.700000043, 8.199999998), (34.053553399, 8.053553402), (34.199999994, 7.700000046))
            Line((34.199999994, 7.700000046), (34.199999994, 4.00000007))
            ThreePointArc((34.199999994, 4.00000007), (33.555634893, 2.444365103), (31.999999925, 1.800000001))
            Line((31.999999925, 1.800000001), (28.300000007, 1.800000001))
            ThreePointArc((28.300000007, 1.800000001), (27.946446609, 1.946446613), (27.799999996, 2.300000012))
            Line((27.799999996, 2.300000012), (27.799999996, 7.700000324))
            ThreePointArc((27.799999996, 7.700000324), (27.94644651, 8.053553484), (28.299999669, 8.199999998))
        make_face(mode=Mode.SUBTRACT)
        with BuildLine():
            Line((3.700000285, 31.800000035), (-1.700000077, 31.800000035))
            ThreePointArc((-1.700000077, 31.800000035), (-2.053553433, 31.94644663), (-2.200000029, 32.299999986))
            Line((-2.200000029, 32.299999986), (-2.200000029, 35.999999954))
            ThreePointArc((-2.200000029, 35.999999954), (-1.555634924, 37.555634929), (5.2e-08, 38.200000034))
            Line((5.2e-08, 38.200000034), (3.699999947, 38.200000034))
            ThreePointArc((3.699999947, 38.200000034), (4.053553346, 38.053553422), (4.199999959, 37.700000023))
            Line((4.199999959, 37.700000023), (4.199999959, 32.299999708))
            ThreePointArc((4.199999959, 32.299999708), (4.053553445, 31.946446549), (3.700000285, 31.800000035))
        make_face(mode=Mode.SUBTRACT)
        with BuildLine():
            Line((4.199999959, 7.700000324), (4.199999959, 2.299999952))
            ThreePointArc((4.199999959, 2.299999952), (4.053553363, 1.946446596), (3.700000007, 1.800000001))
            Line((3.700000007, 1.800000001), (4e-08, 1.800000001))
            ThreePointArc((4e-08, 1.800000001), (-1.555634927, 2.444365102), (-2.200000029, 4.000000069))
            Line((-2.200000029, 4.000000069), (-2.200000029, 7.699999986))
            ThreePointArc((-2.200000029, 7.699999986), (-2.053553416, 8.053553385), (-1.700000017, 8.199999998))
            Line((-1.700000017, 8.199999998), (3.700000285, 8.199999998))
            ThreePointArc((3.700000285, 8.199999998), (4.053553445, 8.053553484), (4.199999959, 7.700000324))
        make_face(mode=Mode.SUBTRACT)
        with BuildLine():
            Line((20.100000016, 2.000000008), (11.899999947, 2.000000008))
            Line((11.899999947, 2.000000008), (11.899999947, 3.649999992))
            ThreePointArc((11.899999947, 3.649999992), (11.607106728, 4.357106773), (10.899999947, 4.649999992))
            Line((10.899999947, 4.649999992), (9.399999996, 4.649999992))
            ThreePointArc((9.399999996, 4.649999992), (9.046446606, 4.503553382), (8.899999996, 4.149999992))
            Line((8.899999996, 4.149999992), (8.899999996, 2.499999991))
            ThreePointArc((8.899999996, 2.499999991), (8.753553389, 2.146446604), (8.400000003, 1.999999994))
            ThreePointArc((8.400000003, 1.999999994), (6.632233039, 2.732233035), (5.899999985, 4.499999994))
            Line((5.899999985, 4.499999994), (5.899999985, 5.707611838))
            ThreePointArc((5.899999985, 5.707611838), (6.280602323, 7.621029001), (7.36446608, 9.243145746))
            Line((7.36446608, 9.243145746), (9.056854238, 10.935533903))
            ThreePointArc((9.056854238, 10.935533903), (10.678970982, 12.01939766), (12.592388143, 12.399999997))
            Line((12.592388143, 12.399999997), (19.407611847, 12.399999997))
            ThreePointArc((19.407611847, 12.399999997), (21.321029008, 12.01939766), (22.943145752, 10.935533904))
            Line((22.943145752, 10.935533904), (24.635533898, 9.243145757))
            ThreePointArc((24.635533898, 9.243145757), (25.719397655, 7.621029013), (26.099999992, 5.707611851))
            Line((26.099999992, 5.707611851), (26.099999992, 4.499999993))
            ThreePointArc((26.099999992, 4.499999993), (25.367766954, 2.73223305), (23.600000019, 1.999999995))
            ThreePointArc((23.600000019, 1.999999995), (23.246446625, 2.146446603), (23.100000014, 2.499999995))
            Line((23.100000014, 2.499999995), (23.100000014, 4.149999994))
            ThreePointArc((23.100000014, 4.149999994), (22.953553405, 4.503553383), (22.600000016, 4.649999992))
            Line((22.600000016, 4.649999992), (21.100000017, 4.649999992))
            ThreePointArc((21.100000017, 4.649999992), (20.392893235, 4.357106773), (20.100000016, 3.649999992))
            Line((20.100000016, 3.649999992), (20.100000016, 2.000000008))
        make_face(mode=Mode.SUBTRACT)
    extrude(amount=-AUFSATZ_LINEAR_AUSTRAGEN1_DEPTH)


solid = part.part
